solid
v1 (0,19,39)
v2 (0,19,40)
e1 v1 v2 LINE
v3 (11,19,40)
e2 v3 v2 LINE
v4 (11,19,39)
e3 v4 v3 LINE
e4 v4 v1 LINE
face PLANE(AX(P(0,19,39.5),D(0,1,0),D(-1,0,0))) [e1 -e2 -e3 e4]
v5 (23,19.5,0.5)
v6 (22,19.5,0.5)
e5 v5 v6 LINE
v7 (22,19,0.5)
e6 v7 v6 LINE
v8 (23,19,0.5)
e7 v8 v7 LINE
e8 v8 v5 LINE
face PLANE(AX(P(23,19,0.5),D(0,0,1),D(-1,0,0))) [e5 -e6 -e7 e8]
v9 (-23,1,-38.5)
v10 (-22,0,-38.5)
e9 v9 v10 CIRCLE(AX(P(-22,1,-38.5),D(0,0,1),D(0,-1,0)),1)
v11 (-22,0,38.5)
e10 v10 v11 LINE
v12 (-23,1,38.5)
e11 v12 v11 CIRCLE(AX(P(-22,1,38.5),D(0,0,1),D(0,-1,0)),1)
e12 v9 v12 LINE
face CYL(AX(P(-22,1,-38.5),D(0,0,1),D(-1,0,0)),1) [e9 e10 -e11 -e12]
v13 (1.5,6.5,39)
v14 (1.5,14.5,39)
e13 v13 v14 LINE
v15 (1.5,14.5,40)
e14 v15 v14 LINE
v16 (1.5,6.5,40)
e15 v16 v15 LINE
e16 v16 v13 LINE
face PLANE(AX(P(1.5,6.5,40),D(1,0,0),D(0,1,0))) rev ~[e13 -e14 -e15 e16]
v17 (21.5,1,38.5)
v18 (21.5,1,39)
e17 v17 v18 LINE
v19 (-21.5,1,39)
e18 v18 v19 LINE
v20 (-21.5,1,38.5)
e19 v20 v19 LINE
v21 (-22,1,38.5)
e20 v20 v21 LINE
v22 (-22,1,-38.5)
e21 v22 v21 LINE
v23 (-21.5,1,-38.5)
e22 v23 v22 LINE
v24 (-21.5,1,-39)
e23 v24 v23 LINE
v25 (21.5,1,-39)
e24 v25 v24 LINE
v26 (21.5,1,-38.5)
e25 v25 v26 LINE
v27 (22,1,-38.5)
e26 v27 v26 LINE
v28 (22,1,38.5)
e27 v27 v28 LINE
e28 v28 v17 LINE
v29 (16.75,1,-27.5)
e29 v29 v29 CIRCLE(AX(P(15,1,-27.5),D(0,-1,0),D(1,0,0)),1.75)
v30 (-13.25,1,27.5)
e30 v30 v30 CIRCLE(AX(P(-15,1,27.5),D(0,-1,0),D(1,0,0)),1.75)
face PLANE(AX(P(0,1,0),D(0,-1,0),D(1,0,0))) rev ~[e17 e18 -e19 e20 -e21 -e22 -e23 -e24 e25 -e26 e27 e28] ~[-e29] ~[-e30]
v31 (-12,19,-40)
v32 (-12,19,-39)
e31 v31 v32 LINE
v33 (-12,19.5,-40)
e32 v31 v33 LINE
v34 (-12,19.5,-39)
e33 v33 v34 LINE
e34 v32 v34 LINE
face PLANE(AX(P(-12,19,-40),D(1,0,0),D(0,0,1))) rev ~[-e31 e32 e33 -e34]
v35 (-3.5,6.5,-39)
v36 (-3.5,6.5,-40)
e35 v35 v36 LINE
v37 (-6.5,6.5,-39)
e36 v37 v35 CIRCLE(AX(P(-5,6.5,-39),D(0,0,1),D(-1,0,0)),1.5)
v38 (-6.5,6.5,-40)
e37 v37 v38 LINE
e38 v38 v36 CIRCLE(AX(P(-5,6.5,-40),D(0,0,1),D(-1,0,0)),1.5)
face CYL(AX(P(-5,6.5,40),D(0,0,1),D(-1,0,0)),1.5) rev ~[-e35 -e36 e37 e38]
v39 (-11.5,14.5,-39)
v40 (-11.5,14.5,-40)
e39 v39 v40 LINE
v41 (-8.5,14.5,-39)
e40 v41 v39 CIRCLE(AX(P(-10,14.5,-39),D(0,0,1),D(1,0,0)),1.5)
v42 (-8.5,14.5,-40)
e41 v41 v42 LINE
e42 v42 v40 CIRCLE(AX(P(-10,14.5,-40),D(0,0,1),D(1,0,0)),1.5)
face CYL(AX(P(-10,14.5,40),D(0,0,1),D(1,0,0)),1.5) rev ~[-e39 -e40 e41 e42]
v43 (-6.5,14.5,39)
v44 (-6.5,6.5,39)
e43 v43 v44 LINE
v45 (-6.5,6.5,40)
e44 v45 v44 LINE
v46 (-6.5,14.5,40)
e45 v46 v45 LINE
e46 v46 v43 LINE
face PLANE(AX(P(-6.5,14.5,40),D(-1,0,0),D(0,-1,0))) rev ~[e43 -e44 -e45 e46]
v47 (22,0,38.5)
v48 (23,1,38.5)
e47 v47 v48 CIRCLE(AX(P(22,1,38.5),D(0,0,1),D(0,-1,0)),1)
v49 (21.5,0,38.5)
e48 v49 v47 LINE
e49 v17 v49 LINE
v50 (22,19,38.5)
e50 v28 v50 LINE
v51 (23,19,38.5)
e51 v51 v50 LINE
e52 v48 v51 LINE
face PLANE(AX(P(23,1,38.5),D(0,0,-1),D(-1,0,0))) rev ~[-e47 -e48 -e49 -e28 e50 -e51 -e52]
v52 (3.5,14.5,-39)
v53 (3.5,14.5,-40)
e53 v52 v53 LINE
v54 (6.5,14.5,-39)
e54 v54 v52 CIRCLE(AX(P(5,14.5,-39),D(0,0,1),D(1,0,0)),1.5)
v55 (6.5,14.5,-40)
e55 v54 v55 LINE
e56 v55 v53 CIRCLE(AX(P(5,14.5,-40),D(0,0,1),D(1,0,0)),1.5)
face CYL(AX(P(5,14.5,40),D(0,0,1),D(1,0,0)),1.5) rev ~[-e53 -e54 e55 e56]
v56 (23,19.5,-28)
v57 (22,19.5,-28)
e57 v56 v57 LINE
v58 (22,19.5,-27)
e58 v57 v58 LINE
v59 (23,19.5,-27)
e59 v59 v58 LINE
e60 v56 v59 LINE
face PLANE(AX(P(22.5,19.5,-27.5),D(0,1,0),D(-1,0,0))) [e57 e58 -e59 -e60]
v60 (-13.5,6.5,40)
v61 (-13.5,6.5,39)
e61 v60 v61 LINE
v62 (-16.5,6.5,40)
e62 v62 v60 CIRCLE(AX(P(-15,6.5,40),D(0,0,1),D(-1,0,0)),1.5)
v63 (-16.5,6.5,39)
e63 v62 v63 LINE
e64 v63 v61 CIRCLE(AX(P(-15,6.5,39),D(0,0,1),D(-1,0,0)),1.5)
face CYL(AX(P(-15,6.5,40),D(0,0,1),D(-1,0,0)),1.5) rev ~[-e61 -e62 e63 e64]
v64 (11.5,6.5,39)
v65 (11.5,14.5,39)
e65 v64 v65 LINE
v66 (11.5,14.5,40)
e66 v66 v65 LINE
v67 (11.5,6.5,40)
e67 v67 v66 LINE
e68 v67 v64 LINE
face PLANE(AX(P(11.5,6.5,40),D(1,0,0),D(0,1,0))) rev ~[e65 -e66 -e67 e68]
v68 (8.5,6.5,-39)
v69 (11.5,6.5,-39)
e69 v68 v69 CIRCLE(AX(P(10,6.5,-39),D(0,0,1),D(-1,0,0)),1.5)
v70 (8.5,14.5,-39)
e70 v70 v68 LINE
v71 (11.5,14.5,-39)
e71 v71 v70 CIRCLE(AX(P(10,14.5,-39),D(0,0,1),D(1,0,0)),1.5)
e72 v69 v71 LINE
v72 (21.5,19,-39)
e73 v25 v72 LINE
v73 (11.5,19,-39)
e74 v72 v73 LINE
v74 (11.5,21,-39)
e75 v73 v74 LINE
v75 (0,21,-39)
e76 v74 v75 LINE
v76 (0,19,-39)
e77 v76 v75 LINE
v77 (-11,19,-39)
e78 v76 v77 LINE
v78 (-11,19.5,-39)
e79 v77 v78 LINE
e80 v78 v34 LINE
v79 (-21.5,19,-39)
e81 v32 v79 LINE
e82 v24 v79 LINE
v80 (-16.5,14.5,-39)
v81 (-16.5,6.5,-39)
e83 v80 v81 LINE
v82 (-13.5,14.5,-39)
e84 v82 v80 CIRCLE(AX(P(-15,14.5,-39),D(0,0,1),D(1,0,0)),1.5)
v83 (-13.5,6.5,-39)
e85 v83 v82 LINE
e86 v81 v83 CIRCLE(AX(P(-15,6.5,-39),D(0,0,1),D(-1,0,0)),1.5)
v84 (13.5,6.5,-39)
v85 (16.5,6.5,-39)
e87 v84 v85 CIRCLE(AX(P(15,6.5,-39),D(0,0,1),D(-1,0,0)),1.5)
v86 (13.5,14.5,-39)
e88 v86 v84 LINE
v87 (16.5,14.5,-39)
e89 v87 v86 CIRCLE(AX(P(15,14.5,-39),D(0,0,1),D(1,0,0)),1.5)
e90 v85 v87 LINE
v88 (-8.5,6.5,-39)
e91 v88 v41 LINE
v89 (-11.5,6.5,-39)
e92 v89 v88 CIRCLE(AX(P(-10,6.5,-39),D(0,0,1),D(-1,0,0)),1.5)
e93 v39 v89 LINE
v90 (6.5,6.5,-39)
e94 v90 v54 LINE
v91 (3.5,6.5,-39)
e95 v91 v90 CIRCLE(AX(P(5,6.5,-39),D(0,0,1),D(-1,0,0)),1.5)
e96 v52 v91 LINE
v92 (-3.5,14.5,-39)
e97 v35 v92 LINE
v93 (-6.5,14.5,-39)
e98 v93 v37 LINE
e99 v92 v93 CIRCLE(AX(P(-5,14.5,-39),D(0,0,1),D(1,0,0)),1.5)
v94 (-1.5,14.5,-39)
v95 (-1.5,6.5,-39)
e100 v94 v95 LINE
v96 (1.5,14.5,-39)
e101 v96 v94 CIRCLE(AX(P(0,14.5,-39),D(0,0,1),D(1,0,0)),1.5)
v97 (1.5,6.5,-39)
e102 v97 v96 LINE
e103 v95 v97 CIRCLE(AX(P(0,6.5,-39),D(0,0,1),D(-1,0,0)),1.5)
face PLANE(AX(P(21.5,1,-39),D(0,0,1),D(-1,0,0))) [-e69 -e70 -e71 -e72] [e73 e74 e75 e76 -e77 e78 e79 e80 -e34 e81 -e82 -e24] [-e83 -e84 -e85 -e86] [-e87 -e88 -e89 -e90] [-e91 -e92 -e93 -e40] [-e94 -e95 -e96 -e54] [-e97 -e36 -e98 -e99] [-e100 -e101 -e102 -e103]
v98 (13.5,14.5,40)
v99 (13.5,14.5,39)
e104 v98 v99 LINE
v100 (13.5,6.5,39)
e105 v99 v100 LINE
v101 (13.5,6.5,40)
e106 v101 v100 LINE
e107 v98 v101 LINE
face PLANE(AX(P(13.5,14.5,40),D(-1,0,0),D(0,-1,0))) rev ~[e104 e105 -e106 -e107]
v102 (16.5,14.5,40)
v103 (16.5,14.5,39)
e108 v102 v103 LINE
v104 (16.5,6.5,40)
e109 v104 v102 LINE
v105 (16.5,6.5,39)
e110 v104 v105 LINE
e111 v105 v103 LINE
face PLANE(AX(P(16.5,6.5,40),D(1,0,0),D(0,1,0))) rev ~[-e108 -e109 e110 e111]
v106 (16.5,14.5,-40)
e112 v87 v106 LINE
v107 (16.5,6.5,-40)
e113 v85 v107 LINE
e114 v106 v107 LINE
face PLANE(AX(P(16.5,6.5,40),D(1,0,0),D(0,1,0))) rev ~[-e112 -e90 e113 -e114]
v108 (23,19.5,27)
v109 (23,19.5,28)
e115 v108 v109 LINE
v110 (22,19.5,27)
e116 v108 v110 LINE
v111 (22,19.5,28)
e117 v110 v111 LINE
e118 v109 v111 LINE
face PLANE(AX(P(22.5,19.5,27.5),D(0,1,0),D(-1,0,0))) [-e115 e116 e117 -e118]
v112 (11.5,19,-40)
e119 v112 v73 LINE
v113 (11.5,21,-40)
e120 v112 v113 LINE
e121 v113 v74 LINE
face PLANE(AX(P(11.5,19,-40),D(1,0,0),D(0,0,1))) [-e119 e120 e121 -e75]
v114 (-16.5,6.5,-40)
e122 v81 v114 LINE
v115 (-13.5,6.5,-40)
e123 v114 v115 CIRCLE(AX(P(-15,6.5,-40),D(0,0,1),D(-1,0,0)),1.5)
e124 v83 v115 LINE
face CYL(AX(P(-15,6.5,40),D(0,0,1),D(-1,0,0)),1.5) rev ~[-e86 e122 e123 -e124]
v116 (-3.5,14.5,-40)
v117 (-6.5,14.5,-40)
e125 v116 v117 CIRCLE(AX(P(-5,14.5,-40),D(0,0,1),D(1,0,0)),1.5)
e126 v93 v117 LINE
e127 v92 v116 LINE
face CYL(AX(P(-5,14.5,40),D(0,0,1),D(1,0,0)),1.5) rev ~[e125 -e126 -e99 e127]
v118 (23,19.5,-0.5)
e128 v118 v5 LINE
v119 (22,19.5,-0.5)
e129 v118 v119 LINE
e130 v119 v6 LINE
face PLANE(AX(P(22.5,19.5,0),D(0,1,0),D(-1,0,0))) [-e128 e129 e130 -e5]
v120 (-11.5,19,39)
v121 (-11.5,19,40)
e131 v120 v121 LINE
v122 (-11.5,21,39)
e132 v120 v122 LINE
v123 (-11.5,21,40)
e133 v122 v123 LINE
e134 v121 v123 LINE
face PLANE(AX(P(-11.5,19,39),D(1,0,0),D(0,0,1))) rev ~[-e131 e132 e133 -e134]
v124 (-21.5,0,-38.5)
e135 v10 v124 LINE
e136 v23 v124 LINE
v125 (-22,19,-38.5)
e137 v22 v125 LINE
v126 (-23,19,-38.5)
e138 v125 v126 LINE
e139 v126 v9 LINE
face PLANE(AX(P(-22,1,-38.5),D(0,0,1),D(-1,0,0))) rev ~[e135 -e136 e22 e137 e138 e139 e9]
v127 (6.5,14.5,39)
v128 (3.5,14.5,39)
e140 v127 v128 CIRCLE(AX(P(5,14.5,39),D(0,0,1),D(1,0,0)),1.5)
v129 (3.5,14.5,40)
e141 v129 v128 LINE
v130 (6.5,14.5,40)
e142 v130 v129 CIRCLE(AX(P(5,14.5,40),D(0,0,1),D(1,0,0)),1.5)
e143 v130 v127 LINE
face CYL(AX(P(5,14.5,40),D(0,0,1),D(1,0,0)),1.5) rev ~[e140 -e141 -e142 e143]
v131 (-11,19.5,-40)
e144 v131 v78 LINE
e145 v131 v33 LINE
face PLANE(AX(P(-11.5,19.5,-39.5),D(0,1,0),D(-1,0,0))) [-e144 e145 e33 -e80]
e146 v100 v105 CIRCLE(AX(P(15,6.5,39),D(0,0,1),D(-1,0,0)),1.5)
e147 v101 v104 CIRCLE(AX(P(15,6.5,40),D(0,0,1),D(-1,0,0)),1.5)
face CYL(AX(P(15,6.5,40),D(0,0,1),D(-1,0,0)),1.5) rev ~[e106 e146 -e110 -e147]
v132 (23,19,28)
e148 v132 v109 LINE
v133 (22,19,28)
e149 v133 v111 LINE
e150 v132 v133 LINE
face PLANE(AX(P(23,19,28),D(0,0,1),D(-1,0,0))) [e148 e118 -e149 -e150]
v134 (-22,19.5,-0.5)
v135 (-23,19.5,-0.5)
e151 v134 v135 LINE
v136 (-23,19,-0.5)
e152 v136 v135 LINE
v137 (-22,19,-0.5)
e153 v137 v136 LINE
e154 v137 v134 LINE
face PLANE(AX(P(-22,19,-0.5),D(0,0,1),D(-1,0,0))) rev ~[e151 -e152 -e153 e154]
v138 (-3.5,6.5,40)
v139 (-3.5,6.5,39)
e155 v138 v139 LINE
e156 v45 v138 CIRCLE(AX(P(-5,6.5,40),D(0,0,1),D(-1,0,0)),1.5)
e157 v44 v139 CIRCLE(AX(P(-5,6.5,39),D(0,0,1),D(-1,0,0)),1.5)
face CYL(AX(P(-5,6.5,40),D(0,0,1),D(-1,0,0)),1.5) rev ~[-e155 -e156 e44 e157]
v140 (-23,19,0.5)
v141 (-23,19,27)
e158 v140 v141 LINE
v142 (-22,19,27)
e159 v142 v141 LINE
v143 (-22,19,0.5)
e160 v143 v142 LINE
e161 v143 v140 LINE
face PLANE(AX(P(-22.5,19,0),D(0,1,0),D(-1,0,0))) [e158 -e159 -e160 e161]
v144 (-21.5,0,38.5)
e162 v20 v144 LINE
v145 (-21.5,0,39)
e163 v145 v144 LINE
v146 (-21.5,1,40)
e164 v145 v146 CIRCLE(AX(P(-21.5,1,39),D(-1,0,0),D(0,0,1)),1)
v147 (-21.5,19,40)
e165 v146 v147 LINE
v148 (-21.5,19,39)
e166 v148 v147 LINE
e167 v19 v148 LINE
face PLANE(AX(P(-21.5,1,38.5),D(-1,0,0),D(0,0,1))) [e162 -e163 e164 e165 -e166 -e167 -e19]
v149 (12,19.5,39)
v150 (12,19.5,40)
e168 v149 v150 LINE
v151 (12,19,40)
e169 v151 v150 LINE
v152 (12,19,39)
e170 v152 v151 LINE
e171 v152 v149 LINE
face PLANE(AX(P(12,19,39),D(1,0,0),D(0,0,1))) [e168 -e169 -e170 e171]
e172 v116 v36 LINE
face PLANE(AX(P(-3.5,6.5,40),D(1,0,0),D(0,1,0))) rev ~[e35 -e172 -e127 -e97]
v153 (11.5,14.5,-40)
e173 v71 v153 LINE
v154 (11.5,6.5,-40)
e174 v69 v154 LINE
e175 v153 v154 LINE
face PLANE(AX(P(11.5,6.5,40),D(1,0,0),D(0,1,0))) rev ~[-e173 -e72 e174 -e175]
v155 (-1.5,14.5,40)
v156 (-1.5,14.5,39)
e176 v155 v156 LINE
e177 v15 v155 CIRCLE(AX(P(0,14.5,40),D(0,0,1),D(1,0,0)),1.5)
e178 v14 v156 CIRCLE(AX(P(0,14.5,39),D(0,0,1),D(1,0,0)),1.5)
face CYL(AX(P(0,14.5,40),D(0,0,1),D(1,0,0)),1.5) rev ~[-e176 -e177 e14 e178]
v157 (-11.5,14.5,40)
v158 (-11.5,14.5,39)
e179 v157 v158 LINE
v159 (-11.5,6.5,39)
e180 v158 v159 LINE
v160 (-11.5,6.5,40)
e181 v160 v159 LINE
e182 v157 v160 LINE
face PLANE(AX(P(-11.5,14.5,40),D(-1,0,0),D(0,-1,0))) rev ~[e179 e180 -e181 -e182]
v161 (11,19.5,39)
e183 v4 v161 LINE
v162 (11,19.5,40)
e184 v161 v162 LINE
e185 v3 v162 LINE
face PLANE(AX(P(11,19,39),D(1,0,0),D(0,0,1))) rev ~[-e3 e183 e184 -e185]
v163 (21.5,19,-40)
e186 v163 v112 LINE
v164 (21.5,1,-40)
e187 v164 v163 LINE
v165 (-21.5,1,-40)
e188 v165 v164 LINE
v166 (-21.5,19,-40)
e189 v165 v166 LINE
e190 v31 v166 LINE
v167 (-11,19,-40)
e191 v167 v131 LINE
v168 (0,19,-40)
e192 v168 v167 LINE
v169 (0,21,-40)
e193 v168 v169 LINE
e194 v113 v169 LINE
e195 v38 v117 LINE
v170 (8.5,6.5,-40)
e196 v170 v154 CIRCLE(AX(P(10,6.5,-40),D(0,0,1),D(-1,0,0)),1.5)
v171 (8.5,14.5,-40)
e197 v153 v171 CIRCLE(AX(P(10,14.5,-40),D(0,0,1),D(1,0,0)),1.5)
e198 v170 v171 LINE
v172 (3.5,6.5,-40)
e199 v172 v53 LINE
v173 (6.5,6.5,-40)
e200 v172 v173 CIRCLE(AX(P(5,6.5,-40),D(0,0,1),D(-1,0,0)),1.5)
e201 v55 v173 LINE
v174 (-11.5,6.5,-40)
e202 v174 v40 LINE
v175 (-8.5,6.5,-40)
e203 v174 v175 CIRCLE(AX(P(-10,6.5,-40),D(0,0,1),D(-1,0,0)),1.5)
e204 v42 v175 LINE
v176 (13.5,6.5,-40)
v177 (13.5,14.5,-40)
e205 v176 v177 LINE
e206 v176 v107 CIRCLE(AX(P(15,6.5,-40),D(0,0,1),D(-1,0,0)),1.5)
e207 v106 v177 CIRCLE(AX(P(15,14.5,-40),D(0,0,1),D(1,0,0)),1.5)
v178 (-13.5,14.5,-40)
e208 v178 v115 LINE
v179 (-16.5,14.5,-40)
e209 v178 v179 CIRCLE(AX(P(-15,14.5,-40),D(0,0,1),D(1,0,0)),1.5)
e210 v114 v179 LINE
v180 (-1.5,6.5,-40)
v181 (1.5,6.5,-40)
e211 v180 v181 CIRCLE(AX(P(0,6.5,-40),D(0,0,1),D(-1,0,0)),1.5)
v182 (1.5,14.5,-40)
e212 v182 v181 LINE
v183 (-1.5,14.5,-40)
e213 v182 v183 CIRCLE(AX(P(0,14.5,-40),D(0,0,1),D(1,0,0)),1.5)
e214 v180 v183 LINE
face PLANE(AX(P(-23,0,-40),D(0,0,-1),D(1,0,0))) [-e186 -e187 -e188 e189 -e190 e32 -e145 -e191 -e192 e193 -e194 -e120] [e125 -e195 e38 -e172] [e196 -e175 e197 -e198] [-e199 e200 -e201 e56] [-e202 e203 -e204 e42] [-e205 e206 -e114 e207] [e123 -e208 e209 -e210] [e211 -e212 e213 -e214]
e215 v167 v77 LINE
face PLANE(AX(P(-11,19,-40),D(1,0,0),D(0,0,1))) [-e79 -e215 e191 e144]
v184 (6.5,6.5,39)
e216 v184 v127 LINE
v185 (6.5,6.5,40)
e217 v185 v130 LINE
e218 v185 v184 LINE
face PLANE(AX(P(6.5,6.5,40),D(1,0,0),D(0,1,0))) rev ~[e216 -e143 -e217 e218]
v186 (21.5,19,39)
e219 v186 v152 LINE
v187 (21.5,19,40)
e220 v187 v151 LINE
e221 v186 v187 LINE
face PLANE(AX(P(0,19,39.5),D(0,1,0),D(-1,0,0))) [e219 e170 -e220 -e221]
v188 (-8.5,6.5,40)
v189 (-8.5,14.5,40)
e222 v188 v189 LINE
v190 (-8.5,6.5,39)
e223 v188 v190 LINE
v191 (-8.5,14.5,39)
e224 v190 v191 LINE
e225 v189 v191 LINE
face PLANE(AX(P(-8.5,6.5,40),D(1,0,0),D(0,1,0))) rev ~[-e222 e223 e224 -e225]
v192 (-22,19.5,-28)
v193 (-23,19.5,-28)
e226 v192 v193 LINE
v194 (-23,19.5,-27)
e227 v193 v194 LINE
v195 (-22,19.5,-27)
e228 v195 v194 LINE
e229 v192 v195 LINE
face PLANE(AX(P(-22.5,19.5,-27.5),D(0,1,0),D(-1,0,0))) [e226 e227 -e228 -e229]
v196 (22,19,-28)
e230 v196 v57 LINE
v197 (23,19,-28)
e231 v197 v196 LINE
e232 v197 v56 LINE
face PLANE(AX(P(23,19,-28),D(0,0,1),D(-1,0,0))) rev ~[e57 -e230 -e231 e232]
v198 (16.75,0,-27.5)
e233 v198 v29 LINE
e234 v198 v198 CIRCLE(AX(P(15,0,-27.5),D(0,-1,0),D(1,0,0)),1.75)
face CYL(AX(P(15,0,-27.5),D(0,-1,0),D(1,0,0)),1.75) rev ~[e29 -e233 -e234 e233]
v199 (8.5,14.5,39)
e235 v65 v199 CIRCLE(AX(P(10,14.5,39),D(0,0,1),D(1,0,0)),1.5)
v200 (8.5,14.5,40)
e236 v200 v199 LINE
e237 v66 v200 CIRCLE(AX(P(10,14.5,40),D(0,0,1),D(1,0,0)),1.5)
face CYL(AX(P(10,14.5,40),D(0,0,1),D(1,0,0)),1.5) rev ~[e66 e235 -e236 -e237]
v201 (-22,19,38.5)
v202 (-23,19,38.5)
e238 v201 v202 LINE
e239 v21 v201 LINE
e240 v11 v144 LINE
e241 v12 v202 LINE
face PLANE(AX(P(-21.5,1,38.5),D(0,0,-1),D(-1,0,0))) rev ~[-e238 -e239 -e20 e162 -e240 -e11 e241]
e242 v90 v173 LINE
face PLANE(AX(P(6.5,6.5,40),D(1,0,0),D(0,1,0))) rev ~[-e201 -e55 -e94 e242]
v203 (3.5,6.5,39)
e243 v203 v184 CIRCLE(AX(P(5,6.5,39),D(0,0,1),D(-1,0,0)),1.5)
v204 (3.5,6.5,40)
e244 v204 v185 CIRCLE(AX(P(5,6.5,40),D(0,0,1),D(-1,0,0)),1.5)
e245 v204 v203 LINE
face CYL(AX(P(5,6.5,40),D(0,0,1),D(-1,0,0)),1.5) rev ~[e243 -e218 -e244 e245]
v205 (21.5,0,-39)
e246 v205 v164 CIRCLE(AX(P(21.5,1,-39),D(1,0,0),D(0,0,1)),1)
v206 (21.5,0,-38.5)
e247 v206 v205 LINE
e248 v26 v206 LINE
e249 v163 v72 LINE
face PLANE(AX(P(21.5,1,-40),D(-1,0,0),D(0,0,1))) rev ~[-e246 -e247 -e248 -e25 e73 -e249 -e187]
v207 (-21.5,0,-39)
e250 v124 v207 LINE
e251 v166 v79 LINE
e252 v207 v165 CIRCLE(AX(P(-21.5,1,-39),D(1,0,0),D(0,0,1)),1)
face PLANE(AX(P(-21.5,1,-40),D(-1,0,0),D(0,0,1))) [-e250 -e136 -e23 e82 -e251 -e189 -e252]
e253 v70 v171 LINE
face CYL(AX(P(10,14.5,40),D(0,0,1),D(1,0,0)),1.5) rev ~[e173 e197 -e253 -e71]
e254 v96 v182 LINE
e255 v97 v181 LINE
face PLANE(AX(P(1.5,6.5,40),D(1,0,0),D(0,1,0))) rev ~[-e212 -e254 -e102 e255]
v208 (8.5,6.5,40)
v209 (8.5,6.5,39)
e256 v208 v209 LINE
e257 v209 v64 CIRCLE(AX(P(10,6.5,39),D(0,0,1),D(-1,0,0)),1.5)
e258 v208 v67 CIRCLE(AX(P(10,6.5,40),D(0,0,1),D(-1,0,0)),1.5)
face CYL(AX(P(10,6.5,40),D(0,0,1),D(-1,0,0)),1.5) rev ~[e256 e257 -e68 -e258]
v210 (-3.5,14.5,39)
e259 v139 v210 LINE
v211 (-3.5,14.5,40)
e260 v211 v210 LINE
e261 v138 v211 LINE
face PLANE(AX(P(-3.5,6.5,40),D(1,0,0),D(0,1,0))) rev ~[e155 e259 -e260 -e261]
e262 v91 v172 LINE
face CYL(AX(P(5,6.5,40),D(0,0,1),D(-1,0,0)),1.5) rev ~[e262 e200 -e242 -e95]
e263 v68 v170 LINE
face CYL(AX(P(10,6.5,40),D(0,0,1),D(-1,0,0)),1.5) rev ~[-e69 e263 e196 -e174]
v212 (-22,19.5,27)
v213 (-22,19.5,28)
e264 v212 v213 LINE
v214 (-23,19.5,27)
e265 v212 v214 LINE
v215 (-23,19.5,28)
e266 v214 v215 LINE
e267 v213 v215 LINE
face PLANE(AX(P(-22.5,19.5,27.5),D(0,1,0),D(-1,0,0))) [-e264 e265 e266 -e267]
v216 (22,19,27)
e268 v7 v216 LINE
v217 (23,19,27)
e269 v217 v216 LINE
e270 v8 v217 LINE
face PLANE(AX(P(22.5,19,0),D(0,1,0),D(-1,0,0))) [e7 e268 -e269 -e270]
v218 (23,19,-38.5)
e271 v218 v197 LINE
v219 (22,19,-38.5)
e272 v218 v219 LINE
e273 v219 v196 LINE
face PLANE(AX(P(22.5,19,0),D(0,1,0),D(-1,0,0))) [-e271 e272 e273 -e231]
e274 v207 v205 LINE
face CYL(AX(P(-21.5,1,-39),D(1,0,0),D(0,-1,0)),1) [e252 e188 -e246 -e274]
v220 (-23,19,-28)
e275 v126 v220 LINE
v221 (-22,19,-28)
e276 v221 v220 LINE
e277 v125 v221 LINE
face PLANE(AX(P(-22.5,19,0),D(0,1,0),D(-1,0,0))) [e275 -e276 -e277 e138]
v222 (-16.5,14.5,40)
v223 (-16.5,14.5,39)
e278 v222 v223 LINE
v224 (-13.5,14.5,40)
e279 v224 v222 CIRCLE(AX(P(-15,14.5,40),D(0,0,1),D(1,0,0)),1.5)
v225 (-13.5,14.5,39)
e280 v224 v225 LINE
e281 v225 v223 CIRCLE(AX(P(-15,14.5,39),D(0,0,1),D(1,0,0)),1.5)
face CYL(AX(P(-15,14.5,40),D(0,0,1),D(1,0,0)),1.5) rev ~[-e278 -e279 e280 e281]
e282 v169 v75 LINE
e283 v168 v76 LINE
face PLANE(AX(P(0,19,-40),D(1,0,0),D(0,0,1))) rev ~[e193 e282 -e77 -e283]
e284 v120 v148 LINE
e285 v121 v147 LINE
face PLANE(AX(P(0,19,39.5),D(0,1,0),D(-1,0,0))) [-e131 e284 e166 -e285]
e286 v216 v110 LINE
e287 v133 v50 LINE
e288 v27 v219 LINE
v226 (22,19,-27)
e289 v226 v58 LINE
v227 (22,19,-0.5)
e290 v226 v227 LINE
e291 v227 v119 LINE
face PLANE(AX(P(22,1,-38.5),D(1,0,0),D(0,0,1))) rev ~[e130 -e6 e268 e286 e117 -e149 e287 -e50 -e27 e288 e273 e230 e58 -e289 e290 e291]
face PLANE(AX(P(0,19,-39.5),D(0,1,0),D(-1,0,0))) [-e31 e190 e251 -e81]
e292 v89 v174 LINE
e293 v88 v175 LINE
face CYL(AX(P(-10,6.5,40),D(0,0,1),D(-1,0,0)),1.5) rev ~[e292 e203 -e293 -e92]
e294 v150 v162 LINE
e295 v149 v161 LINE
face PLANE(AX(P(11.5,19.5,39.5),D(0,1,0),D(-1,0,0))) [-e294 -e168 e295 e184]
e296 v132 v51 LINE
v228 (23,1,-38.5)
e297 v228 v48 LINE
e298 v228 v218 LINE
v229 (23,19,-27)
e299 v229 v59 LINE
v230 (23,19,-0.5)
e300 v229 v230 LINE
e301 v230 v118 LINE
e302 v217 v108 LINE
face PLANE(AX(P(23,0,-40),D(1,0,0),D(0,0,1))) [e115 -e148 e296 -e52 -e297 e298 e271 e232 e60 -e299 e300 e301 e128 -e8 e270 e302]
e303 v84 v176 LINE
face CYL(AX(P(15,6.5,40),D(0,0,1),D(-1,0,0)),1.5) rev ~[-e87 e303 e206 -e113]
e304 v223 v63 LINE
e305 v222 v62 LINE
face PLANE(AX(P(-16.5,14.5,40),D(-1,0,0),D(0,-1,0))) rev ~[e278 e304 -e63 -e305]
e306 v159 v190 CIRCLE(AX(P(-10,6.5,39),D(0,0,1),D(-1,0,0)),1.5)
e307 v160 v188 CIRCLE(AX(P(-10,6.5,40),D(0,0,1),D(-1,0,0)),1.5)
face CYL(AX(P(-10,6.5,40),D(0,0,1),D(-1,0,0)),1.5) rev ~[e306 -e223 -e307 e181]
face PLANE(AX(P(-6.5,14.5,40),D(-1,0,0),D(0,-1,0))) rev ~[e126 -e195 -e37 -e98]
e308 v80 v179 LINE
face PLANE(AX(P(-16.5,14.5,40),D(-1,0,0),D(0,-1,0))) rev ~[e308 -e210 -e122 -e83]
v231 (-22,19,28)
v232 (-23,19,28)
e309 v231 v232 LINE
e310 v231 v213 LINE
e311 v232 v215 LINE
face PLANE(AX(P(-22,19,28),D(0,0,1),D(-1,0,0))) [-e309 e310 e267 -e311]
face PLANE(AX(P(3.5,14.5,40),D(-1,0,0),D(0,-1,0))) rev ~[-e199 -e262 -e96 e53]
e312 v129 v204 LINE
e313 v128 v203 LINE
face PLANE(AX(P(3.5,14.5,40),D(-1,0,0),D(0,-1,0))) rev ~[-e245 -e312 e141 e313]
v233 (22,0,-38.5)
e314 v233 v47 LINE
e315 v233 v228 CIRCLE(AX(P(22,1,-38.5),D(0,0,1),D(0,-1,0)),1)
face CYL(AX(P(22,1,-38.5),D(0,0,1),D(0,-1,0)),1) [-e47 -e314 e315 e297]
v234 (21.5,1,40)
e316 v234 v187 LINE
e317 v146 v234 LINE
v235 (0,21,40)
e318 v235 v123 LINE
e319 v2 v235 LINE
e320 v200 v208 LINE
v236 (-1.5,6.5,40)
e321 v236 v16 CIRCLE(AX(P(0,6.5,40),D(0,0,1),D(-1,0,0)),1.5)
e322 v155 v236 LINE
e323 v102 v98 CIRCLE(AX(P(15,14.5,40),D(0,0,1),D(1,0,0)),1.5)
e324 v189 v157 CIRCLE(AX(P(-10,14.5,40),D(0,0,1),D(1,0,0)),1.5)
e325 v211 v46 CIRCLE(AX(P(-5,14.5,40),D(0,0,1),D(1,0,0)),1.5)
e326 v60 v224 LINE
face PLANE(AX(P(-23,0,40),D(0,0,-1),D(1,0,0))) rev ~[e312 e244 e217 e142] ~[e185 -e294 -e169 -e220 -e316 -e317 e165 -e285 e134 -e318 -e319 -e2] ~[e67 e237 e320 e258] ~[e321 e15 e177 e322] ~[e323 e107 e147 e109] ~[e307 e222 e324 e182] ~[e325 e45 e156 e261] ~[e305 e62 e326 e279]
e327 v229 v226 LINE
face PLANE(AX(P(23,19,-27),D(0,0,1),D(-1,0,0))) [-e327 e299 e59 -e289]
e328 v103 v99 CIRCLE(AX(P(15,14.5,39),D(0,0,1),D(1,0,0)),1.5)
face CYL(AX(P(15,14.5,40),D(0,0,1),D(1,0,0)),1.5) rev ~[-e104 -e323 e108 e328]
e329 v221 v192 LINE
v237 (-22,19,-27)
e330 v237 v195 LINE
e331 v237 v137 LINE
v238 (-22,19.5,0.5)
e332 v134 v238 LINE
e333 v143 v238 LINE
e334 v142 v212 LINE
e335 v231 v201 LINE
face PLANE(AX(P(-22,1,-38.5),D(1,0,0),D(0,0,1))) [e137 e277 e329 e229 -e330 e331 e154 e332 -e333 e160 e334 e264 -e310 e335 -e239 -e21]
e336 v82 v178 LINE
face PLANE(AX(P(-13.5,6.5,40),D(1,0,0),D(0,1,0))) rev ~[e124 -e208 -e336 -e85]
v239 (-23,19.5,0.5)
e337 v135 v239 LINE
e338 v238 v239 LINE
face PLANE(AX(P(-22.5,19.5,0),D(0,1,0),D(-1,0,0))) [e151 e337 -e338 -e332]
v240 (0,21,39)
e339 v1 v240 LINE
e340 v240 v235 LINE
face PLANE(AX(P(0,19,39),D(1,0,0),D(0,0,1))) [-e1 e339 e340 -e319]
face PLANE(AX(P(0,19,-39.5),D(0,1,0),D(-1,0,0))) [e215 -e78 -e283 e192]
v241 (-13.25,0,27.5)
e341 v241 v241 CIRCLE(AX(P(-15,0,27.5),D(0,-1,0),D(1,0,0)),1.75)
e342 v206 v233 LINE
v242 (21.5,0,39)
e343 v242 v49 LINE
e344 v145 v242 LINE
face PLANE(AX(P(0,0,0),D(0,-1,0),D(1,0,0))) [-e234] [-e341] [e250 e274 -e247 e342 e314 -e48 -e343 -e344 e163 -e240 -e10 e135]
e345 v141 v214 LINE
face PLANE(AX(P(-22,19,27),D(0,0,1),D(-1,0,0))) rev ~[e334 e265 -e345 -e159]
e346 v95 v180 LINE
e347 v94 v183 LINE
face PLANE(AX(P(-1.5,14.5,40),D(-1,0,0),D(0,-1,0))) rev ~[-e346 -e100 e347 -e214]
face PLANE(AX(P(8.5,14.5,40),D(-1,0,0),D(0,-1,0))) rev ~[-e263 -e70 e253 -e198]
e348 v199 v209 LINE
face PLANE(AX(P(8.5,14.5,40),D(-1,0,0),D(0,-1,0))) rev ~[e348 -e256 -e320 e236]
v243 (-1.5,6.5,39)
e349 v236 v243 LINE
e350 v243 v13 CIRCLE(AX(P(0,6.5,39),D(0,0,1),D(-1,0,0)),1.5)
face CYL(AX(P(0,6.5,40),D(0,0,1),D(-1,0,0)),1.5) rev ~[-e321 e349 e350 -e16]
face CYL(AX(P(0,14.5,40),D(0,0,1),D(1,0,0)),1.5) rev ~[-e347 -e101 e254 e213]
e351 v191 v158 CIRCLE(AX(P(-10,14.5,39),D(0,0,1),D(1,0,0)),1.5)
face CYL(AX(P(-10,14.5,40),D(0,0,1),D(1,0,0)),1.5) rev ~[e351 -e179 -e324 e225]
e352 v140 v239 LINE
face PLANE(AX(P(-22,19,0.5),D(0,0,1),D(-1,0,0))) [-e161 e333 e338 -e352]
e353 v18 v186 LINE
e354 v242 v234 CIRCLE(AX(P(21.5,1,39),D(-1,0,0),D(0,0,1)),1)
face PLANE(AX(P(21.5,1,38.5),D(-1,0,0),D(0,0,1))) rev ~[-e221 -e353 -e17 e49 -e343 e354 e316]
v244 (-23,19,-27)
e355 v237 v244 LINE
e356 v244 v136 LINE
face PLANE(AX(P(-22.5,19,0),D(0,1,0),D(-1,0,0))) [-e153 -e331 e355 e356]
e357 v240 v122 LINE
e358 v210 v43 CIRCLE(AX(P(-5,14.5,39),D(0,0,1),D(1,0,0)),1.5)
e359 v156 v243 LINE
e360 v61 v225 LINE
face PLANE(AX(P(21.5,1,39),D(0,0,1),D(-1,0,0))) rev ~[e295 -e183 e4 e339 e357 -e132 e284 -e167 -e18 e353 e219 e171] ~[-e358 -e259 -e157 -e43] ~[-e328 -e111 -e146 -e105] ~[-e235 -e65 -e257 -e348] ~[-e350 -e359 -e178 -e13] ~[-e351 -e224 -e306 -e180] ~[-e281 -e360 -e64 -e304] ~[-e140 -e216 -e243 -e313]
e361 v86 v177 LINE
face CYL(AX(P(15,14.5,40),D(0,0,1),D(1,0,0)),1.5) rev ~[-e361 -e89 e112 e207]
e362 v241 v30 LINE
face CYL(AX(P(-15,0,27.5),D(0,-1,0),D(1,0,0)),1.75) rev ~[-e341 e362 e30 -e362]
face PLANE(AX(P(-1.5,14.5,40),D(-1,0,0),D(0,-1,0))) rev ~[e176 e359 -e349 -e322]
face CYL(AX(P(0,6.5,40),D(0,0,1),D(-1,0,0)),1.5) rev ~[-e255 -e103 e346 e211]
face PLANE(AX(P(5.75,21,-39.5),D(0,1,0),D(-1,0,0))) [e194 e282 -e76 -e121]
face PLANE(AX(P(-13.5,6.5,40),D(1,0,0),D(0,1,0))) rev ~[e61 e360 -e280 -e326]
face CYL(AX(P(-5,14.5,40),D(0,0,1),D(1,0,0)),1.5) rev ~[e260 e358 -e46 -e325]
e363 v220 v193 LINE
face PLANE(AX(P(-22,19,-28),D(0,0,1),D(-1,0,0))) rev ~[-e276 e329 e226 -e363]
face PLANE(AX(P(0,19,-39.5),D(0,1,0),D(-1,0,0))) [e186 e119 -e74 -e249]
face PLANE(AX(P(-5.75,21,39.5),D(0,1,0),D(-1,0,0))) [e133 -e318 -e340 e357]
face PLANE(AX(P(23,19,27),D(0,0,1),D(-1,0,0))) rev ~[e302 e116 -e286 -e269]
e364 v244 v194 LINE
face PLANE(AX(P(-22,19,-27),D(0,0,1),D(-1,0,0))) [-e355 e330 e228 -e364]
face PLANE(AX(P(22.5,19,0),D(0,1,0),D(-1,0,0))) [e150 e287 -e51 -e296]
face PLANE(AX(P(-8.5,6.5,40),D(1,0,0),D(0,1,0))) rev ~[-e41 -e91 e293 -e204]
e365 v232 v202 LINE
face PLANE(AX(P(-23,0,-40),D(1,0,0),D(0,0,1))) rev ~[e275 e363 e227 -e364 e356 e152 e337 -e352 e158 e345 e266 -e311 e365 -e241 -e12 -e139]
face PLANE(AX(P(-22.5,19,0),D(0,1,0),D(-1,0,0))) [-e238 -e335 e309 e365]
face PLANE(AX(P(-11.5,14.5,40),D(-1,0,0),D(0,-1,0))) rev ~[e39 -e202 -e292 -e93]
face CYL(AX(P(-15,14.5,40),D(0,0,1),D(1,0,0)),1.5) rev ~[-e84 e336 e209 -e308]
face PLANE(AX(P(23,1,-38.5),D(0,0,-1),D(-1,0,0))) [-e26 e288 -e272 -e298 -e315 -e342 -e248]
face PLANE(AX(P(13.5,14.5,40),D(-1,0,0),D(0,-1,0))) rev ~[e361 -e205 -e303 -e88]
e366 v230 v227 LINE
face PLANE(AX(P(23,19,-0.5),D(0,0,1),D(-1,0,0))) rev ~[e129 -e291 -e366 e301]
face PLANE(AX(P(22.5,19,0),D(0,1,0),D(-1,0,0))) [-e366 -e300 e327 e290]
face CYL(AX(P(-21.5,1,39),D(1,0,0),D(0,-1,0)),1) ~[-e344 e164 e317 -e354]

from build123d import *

# Parameters (mm, degrees)
F0_W      = 46
F0_H      = 80
F1_DEPTH  = 1
F2_W      = 43
F2_H      = 1
F2_W_2    = 1
F2_H_2    = 77
F3_DEPTH  = 18
F4_W      = 1.5
F4_H      = 1.5
F5_DEPTH  = 1.001
F6_R      = 1.75
F7_DEPTH  = 19.001
F9_DEPTH  = 80.001
F10_W     = 11.5
F10_H     = 1
F11_DEPTH = 2
F12_W     = 1
F12_H     = 1
F13_DEPTH = 0.5
F14_R     = 1


with BuildPart() as f1:
    # F0 (on Front) → F1 (new body)
    with BuildSketch(Plane.XZ):
        Rectangle(F0_W, F0_H)
    extrude(amount=-F1_DEPTH)

    # F2 (on face) → F3 (join)
    with BuildSketch(Plane(origin=(0, 1, 0), x_dir=(-1, 0, 0), z_dir=(0, 1, 0))):
        with Locations((0, 39.5)):
            Rectangle(F2_W, F2_H)
        with Locations((-22.5, 0)):
            Rectangle(F2_W_2, F2_H_2)
        with Locations((22.5, 0)):
            Rectangle(F2_W_2, F2_H_2)
        with Locations((0, -39.5)):
            Rectangle(F2_W, F2_H)
    extrude(amount=F3_DEPTH)

    # F4 (on face) → F5 (cut, through all)
    with BuildSketch(Plane(origin=(0, 1, 0), x_dir=(-1, 0, 0), z_dir=(0, 1, 0))):
        with Locations((22.25, 39.25)):
            Rectangle(F4_W, F4_H)
        with Locations((-22.25, 39.25)):
            Rectangle(F4_W, F4_H)
        with Locations((22.25, -39.25)):
            Rectangle(F4_W, F4_H)
        with Locations((-22.25, -39.25)):
            Rectangle(F4_W, F4_H)
    extrude(amount=-F5_DEPTH, mode=Mode.SUBTRACT)

    # F6 (on face) → F7 (cut, through all)
    with BuildSketch(Plane.XZ):
        with Locations((15, -27.5)):
            Circle(F6_R)
        with Locations((-15, 27.5)):
            Circle(F6_R)
    extrude(amount=-F7_DEPTH, mode=Mode.SUBTRACT)

    # F8 (on face) → F9 (cut, through all)
    with BuildSketch(Plane.XY.offset(40)):
        with BuildLine():
            ThreePointArc((-1.5, 6.5), (0, 5), (1.5, 6.5))
            Line((1.5, 6.5), (1.5, 14.5))
            ThreePointArc((1.5, 14.5), (0, 16), (-1.5, 14.5))
            Line((-1.5, 14.5), (-1.5, 6.5))
        make_face()
        with BuildLine():
            ThreePointArc((-6.5, 6.5), (-5, 5), (-3.5, 6.5))
            Line((-3.5, 6.5), (-3.5, 14.5))
            ThreePointArc((-3.5, 14.5), (-5, 16), (-6.5, 14.5))
            Line((-6.5, 14.5), (-6.5, 6.5))
        make_face()
        with BuildLine():
            ThreePointArc((-11.5, 6.5), (-10, 5), (-8.5, 6.5))
            Line((-8.5, 6.5), (-8.5, 14.5))
            ThreePointArc((-8.5, 14.5), (-10, 16), (-11.5, 14.5))
            Line((-11.5, 14.5), (-11.5, 6.5))
        make_face()
        with BuildLine():
            ThreePointArc((-16.5, 6.5), (-15, 5), (-13.5, 6.5))
            Line((-13.5, 6.5), (-13.5, 14.5))
            ThreePointArc((-13.5, 14.5), (-15, 16), (-16.5, 14.5))
            Line((-16.5, 14.5), (-16.5, 6.5))
        make_face()
        with BuildLine():
            ThreePointArc((8.5, 6.5), (10, 5), (11.5, 6.5))
            Line((11.5, 6.5), (11.5, 14.5))
            ThreePointArc((11.5, 14.5), (10, 16), (8.5, 14.5))
            Line((8.5, 14.5), (8.5, 6.5))
        make_face()
        with BuildLine():
            ThreePointArc((3.5, 6.5), (5, 5), (6.5, 6.5))
            Line((6.5, 6.5), (6.5, 14.5))
            ThreePointArc((6.5, 14.5), (5, 16), (3.5, 14.5))
            Line((3.5, 14.5), (3.5, 6.5))
        make_face()
        with BuildLine():
            ThreePointArc((13.5, 6.5), (15, 5), (16.5, 6.5))
            Line((16.5, 6.5), (16.5, 14.5))
            ThreePointArc((16.5, 14.5), (15, 16), (13.5, 14.5))
            Line((13.5, 14.5), (13.5, 6.5))
        make_face()
    extrude(amount=-F9_DEPTH, mode=Mode.SUBTRACT)

    # F10 (on face) → F11 (join)
    with BuildSketch(Plane(origin=(0, 19, 0), x_dir=(-1, 0, 0), z_dir=(0, 1, 0))):
        with Locations((-5.75, -39.5)):
            Rectangle(F10_W, F10_H)
        with Locations((5.75, 39.5)):
            Rectangle(F10_W, F10_H)
    extrude(amount=F11_DEPTH)

    # F12 (on face) → F13 (join)
    with BuildSketch(Plane(origin=(0, 19, 0), x_dir=(-1, 0, 0), z_dir=(0, 1, 0))):
        with Locations((11.5, -39.5)):
            Rectangle(F12_W, F12_H)
        with Locations((-11.5, 39.5)):
            Rectangle(F12_W, F12_H)
        with Locations((22.5, 27.5)):
            Rectangle(F12_W, F12_H)
        with Locations((-22.5, 27.5)):
            Rectangle(F12_W, F12_H)
        with Locations((22.5, -27.5)):
            Rectangle(F12_W, F12_H)
        with Locations((-22.5, -27.5)):
            Rectangle(F12_W, F12_H)
        with Locations((22.5, 0)):
            Rectangle(F12_W, F12_H)
        with Locations((-22.5, 0)):
            Rectangle(F12_W, F12_H)
    extrude(amount=F13_DEPTH)

    # F14
    f14_edges = [f1.edges().sort_by_distance(p)[0] for p in [
        (-23, 0, 0),
        (0, 0, 40),
        (23, 0, 0),
        (0, 0, -40),
    ]]
    fillet(f14_edges, radius=F14_R)


solid = f1.part
